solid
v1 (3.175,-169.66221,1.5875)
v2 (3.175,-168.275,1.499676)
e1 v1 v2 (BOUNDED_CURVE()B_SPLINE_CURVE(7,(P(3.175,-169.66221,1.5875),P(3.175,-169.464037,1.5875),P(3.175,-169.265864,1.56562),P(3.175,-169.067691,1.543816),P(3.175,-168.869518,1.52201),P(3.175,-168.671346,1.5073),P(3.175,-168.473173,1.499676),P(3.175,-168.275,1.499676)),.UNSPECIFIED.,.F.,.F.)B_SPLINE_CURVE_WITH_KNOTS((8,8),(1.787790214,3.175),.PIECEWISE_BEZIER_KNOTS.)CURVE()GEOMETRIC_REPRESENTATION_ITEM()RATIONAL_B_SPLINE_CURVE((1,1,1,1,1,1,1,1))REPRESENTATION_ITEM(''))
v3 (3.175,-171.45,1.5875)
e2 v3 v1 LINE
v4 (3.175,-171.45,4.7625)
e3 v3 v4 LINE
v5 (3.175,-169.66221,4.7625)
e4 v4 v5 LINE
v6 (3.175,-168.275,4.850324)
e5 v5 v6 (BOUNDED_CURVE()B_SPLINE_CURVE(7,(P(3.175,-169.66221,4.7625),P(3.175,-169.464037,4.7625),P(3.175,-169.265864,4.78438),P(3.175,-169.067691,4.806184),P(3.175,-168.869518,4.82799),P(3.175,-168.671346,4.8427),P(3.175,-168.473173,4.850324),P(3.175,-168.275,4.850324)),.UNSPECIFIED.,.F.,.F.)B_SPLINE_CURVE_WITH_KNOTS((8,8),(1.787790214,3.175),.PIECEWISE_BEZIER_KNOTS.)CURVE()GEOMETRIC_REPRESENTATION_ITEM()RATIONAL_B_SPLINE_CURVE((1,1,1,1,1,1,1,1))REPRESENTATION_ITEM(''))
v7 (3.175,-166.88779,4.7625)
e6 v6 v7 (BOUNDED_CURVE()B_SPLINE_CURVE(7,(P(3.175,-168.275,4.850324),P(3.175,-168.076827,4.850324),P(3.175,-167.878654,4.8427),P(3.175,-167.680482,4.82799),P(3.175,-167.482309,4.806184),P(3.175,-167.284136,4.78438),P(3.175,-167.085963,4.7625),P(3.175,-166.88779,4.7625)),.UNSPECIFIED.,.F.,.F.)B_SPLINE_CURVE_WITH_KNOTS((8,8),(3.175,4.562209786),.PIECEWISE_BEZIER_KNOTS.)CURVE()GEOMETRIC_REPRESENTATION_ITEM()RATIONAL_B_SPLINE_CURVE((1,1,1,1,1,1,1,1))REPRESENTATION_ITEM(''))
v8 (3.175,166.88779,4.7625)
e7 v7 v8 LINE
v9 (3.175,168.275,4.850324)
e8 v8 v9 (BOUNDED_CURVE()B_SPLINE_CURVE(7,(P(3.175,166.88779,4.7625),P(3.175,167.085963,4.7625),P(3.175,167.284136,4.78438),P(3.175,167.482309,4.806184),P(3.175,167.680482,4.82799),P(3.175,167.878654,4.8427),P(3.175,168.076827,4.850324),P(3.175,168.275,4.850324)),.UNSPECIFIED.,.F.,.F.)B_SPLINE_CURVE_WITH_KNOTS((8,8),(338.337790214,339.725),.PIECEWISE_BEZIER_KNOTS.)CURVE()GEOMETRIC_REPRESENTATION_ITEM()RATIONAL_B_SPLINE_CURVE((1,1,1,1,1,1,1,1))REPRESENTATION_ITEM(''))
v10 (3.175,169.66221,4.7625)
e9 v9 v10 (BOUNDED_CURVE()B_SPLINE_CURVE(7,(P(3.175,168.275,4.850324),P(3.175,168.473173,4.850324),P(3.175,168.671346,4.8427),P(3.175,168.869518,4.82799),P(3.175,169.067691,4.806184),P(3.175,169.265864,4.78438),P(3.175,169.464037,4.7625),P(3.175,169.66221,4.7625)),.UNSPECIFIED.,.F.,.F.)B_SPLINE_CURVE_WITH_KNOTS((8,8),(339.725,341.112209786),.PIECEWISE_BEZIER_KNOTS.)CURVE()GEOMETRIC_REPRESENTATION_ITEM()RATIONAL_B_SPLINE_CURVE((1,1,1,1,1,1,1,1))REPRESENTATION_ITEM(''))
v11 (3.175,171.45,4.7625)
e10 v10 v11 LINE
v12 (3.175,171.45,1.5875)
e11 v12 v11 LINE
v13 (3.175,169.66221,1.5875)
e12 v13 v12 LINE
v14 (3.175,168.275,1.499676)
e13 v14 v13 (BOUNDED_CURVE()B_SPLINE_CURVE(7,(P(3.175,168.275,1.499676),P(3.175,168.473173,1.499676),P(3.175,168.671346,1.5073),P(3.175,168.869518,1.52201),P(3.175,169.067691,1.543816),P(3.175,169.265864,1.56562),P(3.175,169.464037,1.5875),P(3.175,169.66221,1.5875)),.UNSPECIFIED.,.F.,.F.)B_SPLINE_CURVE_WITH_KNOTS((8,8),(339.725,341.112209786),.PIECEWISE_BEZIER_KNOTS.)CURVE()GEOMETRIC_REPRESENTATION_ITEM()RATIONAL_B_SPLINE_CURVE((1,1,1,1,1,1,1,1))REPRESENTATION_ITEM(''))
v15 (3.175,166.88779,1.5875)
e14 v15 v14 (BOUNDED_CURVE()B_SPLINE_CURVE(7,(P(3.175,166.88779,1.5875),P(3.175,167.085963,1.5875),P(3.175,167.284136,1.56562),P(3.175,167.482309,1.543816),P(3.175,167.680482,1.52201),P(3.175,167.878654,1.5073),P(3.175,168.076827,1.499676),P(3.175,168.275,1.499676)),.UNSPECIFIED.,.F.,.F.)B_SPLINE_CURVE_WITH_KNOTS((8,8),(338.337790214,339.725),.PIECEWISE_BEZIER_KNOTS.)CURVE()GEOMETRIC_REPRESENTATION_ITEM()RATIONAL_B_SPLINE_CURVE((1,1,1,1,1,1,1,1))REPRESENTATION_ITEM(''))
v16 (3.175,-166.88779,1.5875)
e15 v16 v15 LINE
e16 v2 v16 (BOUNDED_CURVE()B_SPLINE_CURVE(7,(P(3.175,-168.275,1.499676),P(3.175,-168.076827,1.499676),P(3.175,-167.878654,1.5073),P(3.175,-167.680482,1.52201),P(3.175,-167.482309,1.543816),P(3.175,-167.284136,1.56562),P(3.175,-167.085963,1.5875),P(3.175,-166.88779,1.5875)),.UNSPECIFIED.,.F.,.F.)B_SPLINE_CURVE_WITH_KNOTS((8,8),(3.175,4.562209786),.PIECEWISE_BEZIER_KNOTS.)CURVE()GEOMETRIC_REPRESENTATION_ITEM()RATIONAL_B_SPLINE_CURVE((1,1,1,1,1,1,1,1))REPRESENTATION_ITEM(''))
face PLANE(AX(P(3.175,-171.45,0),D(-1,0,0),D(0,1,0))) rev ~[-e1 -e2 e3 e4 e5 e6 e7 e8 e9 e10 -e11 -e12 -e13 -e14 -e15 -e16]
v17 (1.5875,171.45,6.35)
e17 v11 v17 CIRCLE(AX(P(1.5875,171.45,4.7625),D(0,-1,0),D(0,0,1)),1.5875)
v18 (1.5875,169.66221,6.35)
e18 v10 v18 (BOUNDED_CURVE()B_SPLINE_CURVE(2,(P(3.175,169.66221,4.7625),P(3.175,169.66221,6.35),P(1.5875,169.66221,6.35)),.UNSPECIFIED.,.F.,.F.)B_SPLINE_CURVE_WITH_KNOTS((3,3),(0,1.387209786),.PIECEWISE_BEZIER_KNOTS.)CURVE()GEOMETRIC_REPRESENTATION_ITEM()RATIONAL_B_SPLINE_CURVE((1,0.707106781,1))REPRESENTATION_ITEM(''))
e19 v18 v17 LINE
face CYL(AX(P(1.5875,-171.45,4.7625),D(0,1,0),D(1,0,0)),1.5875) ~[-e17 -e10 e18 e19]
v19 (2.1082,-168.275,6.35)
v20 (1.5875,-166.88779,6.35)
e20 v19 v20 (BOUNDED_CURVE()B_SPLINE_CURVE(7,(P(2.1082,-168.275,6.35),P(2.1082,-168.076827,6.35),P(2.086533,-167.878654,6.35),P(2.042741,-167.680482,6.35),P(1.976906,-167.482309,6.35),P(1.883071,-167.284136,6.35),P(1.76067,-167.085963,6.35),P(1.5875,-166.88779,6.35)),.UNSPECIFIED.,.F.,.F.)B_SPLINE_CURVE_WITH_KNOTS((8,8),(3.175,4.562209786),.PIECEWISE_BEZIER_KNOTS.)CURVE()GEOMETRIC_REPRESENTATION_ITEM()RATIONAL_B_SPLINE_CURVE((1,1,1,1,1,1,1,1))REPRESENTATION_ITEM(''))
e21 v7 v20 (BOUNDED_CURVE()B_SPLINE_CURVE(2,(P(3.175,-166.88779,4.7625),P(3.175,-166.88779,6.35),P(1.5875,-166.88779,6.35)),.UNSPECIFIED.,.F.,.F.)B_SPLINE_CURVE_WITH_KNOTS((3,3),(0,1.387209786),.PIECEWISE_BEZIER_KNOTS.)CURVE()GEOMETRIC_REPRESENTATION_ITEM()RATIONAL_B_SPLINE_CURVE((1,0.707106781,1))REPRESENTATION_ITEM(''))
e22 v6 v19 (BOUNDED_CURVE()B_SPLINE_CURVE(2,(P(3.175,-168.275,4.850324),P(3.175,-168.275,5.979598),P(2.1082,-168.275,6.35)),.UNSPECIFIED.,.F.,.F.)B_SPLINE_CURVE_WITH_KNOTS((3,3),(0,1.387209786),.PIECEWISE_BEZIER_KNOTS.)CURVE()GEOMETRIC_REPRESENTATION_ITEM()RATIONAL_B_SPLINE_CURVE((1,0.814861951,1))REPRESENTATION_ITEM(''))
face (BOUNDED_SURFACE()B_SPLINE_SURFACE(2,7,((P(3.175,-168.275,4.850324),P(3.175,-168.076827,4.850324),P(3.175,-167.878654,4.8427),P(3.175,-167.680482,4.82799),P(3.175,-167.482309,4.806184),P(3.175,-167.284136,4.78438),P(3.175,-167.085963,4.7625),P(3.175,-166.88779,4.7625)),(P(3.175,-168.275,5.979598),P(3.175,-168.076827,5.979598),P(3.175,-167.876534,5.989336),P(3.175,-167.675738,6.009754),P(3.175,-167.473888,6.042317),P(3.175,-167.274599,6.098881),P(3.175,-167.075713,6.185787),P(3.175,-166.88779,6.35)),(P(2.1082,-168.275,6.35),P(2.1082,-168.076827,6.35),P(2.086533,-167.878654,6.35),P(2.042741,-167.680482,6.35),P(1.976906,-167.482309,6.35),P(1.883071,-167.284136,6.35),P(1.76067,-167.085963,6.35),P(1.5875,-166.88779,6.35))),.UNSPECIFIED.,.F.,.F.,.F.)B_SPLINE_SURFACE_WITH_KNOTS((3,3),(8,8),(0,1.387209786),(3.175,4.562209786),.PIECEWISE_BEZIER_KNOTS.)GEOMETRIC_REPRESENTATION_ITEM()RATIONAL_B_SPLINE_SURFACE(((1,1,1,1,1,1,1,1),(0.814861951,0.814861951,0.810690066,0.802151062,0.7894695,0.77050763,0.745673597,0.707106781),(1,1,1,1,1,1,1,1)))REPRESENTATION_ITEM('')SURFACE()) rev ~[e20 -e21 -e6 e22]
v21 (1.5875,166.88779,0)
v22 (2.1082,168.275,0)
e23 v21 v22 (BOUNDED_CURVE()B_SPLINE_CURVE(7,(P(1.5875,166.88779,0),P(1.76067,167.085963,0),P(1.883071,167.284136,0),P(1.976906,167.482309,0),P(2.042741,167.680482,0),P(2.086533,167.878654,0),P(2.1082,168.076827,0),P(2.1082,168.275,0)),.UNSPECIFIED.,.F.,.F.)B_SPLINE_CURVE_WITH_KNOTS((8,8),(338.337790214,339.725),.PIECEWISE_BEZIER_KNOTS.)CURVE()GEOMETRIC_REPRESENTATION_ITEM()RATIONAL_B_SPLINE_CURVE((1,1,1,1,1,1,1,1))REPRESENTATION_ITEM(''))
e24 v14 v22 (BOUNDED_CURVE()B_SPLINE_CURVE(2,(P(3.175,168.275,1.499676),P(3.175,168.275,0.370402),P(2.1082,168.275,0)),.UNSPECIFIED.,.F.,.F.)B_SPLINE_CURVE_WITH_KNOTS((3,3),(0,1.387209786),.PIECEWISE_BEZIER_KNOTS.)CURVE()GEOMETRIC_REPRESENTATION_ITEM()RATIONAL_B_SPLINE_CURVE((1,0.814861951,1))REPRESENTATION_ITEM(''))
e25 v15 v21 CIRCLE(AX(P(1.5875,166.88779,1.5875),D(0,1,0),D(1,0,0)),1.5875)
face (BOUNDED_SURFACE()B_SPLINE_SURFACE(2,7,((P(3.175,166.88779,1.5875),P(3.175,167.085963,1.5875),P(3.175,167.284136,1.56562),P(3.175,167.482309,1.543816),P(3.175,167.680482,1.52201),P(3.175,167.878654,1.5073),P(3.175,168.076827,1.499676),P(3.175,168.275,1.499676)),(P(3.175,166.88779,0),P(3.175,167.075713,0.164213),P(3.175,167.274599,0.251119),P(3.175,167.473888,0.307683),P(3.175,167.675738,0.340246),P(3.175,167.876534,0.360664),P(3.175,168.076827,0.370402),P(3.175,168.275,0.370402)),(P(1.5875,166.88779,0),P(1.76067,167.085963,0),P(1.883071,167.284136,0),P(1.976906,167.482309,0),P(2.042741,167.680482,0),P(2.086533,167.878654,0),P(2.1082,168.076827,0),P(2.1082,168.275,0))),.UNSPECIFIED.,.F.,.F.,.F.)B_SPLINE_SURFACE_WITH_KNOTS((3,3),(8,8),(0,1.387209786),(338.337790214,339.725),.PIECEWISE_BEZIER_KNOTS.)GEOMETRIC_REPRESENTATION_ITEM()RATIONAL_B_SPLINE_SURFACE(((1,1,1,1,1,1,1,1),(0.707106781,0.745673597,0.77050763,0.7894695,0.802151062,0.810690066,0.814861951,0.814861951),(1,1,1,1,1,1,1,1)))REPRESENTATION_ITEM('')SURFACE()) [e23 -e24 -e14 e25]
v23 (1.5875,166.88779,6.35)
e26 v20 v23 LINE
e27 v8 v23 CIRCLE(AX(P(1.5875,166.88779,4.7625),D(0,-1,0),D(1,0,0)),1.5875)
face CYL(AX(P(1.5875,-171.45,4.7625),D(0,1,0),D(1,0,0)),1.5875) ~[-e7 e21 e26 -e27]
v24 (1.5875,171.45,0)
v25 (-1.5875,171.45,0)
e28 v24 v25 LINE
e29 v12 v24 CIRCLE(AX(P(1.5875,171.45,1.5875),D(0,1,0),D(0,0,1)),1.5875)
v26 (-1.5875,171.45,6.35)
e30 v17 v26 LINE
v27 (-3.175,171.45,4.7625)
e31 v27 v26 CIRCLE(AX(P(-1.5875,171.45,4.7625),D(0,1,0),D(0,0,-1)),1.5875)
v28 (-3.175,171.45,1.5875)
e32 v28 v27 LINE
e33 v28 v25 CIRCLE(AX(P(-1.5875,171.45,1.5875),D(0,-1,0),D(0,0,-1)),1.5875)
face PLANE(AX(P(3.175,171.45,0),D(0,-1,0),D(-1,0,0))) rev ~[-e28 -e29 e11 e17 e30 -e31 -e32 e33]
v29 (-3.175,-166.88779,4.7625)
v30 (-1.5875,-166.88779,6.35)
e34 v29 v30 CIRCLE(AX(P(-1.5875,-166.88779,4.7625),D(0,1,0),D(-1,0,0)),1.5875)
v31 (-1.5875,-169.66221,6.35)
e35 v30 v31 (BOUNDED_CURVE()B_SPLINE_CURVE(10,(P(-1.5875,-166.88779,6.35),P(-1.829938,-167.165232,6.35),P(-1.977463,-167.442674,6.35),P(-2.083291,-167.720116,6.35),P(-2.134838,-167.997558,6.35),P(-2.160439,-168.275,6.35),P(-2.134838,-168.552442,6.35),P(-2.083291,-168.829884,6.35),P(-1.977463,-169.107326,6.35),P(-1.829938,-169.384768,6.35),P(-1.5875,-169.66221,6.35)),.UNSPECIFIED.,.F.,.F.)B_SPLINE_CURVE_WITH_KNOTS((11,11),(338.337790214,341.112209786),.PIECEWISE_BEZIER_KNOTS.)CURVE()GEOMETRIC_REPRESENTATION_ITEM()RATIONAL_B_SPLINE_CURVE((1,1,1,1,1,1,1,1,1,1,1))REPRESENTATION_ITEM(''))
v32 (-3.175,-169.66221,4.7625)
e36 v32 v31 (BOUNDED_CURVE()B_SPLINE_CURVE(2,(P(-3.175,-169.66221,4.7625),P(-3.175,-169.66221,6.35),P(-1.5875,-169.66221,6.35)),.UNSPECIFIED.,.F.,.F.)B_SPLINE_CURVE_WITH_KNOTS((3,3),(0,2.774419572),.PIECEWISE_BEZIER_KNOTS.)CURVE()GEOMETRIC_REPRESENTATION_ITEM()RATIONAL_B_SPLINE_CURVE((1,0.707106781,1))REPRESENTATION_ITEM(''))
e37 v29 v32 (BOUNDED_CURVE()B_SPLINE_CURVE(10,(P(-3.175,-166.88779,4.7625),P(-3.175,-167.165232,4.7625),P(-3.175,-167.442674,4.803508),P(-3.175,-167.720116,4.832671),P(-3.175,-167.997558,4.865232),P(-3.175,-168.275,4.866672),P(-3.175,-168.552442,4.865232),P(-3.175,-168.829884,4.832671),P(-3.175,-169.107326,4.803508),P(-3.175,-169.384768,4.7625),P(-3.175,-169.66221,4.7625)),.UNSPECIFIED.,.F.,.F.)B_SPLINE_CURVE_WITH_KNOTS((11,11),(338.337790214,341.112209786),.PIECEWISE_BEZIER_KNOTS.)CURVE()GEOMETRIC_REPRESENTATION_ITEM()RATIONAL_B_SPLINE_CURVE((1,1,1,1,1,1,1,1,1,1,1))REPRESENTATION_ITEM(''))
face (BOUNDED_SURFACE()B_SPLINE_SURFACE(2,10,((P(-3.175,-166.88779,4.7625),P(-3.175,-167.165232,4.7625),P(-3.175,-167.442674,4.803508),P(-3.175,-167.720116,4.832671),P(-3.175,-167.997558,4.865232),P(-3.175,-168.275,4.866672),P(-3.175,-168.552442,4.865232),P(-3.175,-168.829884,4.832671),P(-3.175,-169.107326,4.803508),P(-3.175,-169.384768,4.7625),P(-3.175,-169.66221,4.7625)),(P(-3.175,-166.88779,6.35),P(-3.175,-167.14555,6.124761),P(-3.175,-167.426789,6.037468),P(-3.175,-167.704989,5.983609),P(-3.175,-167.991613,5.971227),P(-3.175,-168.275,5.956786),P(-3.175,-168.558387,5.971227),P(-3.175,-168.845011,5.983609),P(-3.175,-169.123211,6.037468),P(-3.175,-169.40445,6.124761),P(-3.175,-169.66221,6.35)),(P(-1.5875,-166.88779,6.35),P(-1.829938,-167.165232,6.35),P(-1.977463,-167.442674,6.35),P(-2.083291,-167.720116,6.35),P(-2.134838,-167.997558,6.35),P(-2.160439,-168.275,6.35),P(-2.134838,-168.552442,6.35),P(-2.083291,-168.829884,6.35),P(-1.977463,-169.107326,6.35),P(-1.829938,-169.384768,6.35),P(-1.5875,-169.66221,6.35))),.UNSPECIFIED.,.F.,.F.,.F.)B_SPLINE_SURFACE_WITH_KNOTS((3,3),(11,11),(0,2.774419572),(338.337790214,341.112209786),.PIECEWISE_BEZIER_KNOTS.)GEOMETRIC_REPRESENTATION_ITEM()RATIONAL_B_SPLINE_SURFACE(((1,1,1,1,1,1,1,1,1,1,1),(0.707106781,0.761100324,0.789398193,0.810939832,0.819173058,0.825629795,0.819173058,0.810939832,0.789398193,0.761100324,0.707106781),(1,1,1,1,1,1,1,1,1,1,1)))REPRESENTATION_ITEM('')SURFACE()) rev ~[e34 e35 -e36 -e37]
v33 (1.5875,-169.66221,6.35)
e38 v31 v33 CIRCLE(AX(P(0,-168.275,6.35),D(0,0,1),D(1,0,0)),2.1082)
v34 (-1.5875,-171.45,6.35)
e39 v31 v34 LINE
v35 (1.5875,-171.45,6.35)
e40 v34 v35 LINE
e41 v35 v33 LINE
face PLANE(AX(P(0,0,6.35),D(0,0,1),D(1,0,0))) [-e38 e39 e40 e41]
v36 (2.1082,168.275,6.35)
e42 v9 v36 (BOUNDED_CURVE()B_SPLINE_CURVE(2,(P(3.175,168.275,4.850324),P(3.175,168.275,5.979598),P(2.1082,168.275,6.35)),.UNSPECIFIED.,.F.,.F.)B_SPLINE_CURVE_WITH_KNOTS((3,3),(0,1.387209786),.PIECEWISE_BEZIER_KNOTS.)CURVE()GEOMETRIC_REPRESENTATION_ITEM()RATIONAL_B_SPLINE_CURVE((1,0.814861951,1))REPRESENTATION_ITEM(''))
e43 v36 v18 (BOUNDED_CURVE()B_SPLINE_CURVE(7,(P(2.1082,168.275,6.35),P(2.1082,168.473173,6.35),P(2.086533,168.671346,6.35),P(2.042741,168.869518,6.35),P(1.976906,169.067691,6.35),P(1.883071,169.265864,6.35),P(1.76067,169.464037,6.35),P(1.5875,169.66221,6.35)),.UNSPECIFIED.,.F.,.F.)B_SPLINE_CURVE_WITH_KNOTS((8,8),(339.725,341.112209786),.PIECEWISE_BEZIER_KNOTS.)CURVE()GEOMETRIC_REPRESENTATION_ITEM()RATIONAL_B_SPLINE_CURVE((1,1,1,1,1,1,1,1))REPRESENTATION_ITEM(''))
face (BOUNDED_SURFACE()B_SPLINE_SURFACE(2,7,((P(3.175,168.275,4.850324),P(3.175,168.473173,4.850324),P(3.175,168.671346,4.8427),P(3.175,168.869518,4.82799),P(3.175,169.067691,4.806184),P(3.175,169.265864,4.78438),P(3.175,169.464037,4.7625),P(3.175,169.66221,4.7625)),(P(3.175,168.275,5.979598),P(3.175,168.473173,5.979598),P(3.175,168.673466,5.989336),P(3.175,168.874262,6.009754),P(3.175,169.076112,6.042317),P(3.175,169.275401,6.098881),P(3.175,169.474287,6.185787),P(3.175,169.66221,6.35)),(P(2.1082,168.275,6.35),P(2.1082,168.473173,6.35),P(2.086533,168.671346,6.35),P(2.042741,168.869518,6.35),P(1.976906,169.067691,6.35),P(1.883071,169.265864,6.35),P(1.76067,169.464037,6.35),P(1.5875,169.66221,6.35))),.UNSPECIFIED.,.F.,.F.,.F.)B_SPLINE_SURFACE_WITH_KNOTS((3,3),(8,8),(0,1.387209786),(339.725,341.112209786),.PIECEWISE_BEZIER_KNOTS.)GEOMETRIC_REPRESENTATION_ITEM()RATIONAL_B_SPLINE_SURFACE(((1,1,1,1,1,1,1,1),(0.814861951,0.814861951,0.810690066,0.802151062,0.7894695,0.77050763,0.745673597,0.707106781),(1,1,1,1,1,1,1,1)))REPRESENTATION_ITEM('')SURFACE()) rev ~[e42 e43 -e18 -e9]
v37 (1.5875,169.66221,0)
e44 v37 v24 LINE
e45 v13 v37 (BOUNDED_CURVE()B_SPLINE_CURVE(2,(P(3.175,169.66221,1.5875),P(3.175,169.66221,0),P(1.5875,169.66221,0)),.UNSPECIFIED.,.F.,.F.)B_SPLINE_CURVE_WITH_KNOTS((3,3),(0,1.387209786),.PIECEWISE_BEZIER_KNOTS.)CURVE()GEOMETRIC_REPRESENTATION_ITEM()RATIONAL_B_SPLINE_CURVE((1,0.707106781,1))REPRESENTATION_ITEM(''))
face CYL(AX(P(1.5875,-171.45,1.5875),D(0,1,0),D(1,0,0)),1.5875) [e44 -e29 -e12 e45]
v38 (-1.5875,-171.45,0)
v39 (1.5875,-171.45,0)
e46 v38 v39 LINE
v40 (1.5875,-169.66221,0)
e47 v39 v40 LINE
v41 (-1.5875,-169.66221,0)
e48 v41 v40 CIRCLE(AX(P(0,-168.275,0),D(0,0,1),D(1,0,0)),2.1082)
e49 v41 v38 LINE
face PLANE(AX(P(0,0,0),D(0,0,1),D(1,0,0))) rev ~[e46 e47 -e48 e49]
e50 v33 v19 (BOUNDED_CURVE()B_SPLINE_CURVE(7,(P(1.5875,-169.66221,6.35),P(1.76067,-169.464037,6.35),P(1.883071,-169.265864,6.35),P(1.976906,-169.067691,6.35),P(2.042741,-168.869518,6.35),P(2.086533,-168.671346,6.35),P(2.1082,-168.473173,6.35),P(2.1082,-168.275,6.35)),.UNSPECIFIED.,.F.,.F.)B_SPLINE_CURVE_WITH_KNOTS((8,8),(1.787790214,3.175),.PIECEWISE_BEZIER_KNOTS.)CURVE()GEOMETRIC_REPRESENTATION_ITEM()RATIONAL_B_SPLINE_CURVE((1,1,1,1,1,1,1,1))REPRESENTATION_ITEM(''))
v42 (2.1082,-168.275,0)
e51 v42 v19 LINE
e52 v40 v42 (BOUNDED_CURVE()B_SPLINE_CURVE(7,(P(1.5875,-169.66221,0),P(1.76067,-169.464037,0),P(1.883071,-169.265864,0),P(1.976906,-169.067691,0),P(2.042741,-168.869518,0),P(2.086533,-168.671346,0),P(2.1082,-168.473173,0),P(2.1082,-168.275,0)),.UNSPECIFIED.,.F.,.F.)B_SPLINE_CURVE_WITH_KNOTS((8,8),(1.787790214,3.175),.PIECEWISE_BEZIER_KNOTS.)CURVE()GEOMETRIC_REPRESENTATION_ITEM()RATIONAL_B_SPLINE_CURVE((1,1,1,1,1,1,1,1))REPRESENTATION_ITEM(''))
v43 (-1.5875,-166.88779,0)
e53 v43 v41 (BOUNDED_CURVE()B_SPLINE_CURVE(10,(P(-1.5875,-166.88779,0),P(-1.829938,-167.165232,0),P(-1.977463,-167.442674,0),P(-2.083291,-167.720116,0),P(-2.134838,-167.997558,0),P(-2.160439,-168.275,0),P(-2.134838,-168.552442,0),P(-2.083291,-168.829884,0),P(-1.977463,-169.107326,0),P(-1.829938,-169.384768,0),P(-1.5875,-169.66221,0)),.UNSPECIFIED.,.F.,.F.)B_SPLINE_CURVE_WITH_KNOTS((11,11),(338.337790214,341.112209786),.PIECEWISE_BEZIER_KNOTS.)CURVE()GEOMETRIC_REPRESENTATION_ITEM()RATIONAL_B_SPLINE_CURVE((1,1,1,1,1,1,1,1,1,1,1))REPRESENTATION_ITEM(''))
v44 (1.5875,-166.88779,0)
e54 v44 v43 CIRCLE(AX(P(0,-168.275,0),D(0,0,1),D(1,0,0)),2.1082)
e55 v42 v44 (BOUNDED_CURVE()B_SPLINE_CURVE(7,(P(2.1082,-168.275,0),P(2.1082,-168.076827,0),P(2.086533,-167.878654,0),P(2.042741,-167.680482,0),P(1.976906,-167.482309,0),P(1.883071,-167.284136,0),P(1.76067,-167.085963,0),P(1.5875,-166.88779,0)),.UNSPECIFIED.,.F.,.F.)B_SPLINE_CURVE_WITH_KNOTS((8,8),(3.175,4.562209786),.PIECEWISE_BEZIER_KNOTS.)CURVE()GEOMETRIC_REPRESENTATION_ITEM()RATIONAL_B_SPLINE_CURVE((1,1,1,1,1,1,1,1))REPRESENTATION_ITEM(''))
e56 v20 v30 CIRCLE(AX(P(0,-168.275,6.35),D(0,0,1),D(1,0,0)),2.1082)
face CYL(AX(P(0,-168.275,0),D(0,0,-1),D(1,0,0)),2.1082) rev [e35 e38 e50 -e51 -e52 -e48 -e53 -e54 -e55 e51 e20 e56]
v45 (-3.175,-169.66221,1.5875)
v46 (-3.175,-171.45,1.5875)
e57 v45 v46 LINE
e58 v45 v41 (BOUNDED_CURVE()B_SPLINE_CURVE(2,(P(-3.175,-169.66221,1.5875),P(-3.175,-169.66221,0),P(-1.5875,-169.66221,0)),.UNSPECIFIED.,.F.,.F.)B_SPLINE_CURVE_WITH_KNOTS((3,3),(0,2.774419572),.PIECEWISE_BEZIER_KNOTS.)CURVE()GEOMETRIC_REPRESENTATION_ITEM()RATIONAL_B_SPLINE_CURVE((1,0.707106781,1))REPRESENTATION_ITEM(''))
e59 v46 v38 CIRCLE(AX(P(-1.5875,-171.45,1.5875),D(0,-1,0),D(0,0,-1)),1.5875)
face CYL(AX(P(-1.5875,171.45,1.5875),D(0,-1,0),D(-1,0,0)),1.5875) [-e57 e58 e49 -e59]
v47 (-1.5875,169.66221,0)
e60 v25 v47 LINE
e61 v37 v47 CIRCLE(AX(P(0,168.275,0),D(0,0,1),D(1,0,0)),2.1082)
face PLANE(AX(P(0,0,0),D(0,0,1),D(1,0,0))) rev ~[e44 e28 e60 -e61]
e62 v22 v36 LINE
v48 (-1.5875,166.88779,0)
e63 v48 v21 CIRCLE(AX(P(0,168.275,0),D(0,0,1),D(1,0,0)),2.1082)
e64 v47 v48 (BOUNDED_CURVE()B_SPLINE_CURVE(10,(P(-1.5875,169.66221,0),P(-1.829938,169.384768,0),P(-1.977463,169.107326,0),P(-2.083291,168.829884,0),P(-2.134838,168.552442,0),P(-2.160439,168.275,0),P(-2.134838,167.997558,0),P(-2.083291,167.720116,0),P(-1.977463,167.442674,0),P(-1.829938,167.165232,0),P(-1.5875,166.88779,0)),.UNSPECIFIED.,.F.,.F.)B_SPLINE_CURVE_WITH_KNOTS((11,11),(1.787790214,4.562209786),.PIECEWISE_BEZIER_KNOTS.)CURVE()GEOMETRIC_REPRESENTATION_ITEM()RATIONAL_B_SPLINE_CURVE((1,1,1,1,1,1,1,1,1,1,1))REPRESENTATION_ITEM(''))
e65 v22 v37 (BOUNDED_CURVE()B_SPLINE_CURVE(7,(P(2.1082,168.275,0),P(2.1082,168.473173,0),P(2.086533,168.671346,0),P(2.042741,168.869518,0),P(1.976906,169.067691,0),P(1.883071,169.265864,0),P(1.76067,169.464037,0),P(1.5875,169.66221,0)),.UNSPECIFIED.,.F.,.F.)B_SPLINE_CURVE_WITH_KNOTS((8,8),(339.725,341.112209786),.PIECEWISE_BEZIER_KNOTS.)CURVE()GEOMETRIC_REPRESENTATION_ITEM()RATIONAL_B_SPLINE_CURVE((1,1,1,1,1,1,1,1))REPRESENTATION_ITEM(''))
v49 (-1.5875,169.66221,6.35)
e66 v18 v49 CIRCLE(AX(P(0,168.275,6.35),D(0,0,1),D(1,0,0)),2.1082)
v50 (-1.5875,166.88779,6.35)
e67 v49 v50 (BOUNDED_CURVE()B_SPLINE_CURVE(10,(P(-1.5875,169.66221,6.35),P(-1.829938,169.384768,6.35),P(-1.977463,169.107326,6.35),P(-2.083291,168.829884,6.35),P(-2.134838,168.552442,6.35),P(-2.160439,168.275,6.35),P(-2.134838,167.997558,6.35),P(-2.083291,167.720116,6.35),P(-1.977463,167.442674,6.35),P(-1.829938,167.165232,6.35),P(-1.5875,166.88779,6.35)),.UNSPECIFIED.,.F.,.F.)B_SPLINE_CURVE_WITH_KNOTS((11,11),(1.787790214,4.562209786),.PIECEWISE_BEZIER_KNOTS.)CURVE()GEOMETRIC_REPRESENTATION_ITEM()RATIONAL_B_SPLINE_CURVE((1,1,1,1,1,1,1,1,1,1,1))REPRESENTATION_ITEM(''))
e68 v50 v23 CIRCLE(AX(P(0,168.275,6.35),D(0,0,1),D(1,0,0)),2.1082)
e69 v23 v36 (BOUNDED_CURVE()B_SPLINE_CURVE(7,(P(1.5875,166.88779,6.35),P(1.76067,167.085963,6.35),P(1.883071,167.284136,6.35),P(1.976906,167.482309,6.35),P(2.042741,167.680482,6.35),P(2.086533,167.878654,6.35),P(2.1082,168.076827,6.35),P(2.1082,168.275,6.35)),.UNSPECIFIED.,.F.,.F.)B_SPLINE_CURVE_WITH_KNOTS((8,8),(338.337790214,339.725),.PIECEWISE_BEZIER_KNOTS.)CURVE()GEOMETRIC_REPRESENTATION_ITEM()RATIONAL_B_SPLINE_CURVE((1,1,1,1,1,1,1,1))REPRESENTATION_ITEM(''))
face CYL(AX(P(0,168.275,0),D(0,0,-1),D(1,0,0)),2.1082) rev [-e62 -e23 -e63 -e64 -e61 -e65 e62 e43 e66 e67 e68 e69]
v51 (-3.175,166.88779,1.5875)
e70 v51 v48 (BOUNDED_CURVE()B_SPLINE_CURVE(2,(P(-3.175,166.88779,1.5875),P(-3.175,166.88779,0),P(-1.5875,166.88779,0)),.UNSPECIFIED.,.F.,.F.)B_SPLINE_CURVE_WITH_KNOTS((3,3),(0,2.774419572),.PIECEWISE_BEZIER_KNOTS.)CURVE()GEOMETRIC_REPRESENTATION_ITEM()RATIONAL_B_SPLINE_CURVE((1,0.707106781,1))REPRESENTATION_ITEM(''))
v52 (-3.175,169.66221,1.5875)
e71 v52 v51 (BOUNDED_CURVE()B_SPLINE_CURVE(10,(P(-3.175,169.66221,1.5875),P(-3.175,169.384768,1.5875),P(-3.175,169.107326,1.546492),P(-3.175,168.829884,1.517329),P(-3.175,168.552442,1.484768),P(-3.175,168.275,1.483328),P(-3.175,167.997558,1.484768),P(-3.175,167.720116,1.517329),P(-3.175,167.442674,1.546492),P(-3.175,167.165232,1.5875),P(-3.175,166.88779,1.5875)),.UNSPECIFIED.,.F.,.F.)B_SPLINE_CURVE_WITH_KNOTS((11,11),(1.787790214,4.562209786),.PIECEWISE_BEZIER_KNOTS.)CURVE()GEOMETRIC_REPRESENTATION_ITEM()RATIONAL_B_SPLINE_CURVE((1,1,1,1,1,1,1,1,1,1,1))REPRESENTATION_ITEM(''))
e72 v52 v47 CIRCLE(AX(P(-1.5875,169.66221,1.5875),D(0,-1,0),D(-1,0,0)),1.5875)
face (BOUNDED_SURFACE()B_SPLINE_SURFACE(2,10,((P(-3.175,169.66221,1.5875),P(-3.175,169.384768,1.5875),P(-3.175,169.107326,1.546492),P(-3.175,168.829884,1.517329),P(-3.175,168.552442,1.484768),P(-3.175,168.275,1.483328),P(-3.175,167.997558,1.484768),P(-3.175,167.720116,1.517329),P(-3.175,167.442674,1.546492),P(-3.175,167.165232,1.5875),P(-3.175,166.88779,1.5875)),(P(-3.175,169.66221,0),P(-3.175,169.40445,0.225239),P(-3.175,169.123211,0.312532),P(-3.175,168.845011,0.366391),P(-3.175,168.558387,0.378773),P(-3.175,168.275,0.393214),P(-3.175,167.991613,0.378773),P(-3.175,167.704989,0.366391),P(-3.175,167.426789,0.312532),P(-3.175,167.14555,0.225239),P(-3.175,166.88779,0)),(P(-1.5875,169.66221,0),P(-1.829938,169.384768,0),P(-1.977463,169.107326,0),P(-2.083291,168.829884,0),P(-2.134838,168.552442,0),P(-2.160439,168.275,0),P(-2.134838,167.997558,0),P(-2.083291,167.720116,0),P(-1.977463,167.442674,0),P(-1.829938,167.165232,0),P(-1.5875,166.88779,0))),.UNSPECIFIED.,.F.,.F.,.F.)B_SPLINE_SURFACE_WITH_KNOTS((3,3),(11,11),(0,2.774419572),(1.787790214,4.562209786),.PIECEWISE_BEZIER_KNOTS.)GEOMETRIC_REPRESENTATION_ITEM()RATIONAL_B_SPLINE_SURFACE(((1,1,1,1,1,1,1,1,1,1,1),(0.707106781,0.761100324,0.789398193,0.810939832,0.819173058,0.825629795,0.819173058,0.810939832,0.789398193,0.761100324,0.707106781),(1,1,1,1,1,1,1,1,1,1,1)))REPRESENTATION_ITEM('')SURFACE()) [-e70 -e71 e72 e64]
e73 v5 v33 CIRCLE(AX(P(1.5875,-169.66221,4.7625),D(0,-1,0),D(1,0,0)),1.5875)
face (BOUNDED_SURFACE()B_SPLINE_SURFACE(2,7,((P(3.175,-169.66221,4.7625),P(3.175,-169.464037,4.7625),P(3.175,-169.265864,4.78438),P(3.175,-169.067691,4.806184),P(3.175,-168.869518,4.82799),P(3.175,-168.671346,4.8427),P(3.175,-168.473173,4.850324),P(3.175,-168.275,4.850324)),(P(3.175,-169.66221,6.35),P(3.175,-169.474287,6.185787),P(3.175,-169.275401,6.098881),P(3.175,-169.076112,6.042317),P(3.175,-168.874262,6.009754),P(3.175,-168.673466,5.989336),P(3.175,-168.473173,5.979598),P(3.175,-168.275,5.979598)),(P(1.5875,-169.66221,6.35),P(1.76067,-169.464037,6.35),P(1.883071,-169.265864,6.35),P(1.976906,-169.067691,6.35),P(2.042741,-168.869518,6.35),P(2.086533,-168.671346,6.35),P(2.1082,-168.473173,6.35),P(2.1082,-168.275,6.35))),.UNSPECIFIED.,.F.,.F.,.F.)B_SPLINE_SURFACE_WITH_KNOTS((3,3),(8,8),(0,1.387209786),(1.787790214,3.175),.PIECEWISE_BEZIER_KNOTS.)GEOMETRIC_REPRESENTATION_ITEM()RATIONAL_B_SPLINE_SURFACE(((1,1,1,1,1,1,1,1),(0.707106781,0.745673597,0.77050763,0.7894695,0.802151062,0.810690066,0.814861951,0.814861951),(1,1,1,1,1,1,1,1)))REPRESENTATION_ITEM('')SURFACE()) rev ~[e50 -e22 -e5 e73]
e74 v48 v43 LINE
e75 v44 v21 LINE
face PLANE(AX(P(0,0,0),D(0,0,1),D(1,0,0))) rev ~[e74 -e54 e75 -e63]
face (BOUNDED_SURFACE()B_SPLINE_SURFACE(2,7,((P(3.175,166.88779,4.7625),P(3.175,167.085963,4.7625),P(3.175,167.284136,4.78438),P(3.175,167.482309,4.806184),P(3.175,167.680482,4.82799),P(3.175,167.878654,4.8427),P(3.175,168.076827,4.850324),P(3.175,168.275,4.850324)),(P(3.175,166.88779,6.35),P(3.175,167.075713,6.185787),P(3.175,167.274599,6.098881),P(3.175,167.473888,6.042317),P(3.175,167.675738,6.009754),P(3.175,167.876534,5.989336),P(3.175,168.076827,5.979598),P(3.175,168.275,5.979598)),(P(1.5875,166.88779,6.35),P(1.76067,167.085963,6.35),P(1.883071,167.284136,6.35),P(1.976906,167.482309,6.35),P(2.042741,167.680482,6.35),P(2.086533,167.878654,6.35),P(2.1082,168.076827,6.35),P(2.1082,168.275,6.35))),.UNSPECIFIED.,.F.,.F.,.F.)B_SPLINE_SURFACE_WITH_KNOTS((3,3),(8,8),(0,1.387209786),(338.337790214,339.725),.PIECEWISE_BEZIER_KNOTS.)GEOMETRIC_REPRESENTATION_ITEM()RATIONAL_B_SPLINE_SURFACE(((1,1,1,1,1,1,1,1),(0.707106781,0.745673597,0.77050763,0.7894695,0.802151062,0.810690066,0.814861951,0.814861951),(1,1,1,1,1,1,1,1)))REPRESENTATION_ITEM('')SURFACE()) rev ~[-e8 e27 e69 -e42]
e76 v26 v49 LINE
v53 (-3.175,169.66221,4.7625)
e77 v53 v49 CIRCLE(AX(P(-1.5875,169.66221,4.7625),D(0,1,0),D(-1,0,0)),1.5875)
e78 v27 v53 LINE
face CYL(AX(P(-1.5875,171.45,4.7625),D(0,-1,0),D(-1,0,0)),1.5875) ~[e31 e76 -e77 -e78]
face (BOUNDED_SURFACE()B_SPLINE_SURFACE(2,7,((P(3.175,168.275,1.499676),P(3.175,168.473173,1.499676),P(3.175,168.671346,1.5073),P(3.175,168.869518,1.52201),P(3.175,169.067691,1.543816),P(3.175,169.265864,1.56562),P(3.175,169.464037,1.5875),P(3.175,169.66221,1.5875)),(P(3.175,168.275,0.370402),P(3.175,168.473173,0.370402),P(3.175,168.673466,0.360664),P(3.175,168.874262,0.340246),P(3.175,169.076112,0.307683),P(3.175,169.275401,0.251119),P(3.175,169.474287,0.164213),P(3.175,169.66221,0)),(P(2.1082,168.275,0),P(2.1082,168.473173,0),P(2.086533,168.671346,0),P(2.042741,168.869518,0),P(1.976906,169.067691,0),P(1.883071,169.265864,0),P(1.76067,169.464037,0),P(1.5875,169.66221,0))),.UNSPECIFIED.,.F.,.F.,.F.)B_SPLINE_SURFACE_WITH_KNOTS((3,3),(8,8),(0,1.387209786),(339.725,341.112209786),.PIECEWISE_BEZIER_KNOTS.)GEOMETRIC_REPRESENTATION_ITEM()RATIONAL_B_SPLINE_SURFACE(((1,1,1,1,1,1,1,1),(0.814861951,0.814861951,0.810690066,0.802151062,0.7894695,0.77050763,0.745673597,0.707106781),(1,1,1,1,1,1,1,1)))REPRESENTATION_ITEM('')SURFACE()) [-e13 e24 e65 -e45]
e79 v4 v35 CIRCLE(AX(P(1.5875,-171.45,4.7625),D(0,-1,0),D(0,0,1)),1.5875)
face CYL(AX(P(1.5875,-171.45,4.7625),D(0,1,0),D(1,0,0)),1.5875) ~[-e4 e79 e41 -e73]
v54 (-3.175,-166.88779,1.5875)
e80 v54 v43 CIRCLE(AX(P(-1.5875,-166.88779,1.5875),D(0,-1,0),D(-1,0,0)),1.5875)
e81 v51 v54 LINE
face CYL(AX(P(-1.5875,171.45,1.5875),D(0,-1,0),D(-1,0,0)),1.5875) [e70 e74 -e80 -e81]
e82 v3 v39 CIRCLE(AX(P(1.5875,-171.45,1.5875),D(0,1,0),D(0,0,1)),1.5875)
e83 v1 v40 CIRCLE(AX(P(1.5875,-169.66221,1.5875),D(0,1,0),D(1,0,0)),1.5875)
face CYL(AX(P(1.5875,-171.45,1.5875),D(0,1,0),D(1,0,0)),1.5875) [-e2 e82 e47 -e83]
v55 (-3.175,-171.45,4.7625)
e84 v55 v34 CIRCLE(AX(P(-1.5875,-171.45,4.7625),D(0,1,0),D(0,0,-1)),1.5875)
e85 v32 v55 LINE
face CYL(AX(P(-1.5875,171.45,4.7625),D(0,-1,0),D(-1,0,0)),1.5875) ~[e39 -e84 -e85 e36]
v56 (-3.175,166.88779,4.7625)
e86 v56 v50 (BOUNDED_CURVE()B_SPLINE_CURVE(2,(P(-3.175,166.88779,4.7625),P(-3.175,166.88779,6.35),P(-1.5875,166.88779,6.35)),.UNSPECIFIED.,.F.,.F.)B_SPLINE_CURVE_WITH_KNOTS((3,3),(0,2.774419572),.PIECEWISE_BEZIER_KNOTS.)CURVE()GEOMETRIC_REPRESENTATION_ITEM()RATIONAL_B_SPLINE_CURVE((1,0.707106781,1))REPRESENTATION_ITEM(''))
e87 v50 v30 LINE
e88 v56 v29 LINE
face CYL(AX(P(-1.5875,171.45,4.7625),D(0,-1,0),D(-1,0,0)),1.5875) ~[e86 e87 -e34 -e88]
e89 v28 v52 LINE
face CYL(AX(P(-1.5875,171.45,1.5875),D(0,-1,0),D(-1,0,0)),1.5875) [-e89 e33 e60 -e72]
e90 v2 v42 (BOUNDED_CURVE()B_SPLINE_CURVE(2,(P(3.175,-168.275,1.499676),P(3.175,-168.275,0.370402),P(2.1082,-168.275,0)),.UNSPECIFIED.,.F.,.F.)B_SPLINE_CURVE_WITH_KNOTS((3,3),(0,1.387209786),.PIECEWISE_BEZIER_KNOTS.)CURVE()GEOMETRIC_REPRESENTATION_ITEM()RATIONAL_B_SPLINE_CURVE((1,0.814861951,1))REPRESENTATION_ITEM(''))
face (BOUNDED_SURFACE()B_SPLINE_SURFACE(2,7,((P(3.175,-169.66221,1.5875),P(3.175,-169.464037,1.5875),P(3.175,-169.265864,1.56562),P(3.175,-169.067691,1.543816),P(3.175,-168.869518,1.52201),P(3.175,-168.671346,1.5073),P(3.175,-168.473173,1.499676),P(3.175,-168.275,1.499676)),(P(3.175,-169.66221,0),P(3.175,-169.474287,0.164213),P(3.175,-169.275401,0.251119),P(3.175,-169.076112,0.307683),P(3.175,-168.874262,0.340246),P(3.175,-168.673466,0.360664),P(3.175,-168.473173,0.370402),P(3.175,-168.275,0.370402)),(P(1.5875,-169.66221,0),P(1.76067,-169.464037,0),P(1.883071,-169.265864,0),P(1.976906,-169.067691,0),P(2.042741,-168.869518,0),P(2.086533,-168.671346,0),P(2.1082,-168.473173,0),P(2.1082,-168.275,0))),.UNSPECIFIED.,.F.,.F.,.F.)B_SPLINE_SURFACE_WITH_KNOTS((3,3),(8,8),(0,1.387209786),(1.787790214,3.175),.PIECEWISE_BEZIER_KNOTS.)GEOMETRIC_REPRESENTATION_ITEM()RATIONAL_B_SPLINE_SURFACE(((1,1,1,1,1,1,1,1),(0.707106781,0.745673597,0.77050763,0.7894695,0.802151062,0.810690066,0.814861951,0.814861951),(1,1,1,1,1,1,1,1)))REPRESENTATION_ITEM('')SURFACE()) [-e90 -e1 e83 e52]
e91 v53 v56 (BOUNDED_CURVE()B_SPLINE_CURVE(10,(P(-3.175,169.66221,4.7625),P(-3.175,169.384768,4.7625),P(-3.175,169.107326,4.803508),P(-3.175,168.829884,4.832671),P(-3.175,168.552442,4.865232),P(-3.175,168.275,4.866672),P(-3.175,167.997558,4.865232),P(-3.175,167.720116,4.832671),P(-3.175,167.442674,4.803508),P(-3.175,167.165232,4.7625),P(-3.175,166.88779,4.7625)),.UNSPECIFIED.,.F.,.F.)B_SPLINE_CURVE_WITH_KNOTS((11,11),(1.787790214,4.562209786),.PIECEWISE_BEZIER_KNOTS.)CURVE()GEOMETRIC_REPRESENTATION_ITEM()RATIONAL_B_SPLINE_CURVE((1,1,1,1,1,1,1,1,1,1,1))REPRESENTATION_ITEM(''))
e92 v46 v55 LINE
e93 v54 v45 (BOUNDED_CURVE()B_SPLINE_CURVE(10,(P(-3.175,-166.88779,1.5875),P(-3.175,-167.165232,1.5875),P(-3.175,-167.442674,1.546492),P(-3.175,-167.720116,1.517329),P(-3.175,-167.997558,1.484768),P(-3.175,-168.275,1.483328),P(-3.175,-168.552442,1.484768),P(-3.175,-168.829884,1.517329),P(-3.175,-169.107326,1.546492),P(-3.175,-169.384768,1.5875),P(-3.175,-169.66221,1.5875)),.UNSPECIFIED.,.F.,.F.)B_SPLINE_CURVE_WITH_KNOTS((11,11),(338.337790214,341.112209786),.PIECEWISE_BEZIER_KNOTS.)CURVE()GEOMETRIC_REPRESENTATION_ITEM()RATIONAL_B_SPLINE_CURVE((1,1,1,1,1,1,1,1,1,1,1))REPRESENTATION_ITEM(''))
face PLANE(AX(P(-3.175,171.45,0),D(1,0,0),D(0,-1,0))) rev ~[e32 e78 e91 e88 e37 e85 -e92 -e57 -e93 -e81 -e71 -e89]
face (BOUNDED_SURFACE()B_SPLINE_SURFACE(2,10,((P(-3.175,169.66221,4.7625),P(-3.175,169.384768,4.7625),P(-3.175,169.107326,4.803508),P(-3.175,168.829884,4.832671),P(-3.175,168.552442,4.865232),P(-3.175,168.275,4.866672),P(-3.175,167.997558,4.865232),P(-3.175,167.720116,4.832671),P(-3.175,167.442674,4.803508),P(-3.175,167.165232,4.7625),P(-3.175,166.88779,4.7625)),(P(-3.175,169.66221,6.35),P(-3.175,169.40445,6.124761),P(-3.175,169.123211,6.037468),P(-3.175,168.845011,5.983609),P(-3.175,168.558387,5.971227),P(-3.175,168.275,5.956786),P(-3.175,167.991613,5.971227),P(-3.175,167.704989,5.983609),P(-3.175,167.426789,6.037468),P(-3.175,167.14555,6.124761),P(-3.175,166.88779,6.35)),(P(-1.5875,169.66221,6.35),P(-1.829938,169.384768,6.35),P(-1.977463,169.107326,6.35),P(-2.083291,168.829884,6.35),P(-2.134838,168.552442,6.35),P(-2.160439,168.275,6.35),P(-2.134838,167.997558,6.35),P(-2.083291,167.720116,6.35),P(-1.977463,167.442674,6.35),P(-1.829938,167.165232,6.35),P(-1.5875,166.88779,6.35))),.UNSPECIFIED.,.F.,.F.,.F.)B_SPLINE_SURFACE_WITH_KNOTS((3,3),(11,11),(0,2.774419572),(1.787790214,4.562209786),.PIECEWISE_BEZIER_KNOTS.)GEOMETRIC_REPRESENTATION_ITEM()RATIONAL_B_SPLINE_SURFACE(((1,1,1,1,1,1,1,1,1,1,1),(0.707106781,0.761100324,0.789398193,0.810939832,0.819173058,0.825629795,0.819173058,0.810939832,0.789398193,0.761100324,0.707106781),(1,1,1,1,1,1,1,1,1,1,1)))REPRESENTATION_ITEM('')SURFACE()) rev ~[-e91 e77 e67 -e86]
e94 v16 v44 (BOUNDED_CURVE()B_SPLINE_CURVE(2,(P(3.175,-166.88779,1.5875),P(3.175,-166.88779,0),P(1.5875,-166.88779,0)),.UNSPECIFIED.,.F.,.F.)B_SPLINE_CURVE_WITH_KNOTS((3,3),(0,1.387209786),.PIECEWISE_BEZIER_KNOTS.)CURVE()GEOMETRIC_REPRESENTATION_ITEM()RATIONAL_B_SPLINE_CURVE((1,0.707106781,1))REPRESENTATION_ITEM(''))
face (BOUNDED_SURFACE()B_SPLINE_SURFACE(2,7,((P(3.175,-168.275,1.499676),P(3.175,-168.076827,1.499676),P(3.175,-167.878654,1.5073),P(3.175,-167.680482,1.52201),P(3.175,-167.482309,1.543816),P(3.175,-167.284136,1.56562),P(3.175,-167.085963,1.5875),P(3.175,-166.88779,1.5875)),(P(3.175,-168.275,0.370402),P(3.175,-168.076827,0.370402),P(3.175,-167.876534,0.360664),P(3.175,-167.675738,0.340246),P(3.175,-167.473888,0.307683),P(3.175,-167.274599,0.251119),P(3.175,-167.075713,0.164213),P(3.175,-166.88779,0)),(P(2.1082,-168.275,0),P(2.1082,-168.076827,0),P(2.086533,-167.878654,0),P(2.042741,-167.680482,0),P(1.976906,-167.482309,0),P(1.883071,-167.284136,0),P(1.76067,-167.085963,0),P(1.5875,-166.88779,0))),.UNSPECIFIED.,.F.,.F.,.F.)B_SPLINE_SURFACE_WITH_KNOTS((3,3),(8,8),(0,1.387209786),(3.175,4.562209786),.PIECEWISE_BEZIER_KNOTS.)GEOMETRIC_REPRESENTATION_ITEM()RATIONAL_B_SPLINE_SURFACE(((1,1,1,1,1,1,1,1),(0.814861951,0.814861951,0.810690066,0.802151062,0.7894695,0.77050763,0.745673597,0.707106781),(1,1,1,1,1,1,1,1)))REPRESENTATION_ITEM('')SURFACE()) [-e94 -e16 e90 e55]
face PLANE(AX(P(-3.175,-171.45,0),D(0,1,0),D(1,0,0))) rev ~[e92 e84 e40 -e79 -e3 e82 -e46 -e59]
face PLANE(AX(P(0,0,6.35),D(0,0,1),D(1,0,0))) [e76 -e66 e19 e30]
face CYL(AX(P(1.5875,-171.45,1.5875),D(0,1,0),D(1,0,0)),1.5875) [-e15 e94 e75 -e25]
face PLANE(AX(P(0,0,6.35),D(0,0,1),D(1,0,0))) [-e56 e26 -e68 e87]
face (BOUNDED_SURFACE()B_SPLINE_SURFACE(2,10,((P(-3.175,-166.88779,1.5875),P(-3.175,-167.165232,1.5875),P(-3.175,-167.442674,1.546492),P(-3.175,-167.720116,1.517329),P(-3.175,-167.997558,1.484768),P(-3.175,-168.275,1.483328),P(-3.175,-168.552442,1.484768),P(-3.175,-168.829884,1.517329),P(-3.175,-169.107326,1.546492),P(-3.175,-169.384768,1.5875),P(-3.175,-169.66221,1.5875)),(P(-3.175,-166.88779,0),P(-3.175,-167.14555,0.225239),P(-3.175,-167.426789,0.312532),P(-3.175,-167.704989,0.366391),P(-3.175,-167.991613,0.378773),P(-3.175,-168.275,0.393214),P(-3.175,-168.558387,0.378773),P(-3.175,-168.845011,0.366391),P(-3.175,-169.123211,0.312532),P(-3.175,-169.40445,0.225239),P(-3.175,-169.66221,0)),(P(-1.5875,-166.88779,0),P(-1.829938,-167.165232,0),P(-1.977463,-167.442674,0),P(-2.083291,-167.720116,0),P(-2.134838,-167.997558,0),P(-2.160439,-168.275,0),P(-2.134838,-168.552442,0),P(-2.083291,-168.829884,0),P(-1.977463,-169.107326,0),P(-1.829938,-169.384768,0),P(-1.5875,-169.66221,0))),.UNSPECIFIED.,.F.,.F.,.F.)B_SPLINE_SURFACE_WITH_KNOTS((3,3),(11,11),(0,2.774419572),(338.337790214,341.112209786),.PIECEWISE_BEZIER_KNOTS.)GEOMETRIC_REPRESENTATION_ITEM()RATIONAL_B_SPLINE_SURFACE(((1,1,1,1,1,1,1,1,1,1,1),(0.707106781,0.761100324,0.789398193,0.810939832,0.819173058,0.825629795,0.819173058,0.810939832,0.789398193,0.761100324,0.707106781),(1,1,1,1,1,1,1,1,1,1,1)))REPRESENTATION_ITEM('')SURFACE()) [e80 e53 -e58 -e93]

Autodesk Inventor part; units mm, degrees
ref_plane "YZ Plane" through (0, 0, 0) normal (1, 0, 0) x (0, 1, 0)
ref_plane "XZ Plane" through (0, 0, 0) normal (0, 1, 0) x (-1, 0, 0)
ref_plane "XY Plane" through (0, 0, 0) normal (0, 0, 1) x (1, 0, 0)
sketch "Sketch1" plane through (0, 0, 0) normal (0, 0, 1) x (1, 0, 0)
  line L0 (3.175, 171.45) -> (-3.175, 171.45)
  line L1 (-3.175, 171.45) -> (-3.175, -171.45)
  line L2 (-3.175, -171.45) -> (3.175, -171.45)
  line L3 (3.175, -171.45) -> (3.175, 171.45)
  line L4 (3.175, 171.45) -> (-3.175, -171.45) construction
  line L5 (-3.175, 171.45) -> (3.175, -171.45) construction
  circle A0 centre (0, -168.275) radius 2.1082
  circle A1 centre (0, 168.275) radius 2.1082
  point P0 (0, 0)
  dimension "d0" = 6.35
  dimension "d1" = 342.9
  dimension "d2" = 4.2164
  dimension "d3" = 3.175
  dimension "d4" = 4.2164
  dimension "d5" = 3.175
extrude "Extrusion1" add sketch "Sketch1" along normal blind 6.35
fillet "Fillet1" radius 1.5875 4 edges at (3.175, 0, 0) (3.175, 0, 6.35) (-3.175, 0, 0) (-3.175, 0, 6.35)
properties part number "Blocker B" material "Stainless Steel"
